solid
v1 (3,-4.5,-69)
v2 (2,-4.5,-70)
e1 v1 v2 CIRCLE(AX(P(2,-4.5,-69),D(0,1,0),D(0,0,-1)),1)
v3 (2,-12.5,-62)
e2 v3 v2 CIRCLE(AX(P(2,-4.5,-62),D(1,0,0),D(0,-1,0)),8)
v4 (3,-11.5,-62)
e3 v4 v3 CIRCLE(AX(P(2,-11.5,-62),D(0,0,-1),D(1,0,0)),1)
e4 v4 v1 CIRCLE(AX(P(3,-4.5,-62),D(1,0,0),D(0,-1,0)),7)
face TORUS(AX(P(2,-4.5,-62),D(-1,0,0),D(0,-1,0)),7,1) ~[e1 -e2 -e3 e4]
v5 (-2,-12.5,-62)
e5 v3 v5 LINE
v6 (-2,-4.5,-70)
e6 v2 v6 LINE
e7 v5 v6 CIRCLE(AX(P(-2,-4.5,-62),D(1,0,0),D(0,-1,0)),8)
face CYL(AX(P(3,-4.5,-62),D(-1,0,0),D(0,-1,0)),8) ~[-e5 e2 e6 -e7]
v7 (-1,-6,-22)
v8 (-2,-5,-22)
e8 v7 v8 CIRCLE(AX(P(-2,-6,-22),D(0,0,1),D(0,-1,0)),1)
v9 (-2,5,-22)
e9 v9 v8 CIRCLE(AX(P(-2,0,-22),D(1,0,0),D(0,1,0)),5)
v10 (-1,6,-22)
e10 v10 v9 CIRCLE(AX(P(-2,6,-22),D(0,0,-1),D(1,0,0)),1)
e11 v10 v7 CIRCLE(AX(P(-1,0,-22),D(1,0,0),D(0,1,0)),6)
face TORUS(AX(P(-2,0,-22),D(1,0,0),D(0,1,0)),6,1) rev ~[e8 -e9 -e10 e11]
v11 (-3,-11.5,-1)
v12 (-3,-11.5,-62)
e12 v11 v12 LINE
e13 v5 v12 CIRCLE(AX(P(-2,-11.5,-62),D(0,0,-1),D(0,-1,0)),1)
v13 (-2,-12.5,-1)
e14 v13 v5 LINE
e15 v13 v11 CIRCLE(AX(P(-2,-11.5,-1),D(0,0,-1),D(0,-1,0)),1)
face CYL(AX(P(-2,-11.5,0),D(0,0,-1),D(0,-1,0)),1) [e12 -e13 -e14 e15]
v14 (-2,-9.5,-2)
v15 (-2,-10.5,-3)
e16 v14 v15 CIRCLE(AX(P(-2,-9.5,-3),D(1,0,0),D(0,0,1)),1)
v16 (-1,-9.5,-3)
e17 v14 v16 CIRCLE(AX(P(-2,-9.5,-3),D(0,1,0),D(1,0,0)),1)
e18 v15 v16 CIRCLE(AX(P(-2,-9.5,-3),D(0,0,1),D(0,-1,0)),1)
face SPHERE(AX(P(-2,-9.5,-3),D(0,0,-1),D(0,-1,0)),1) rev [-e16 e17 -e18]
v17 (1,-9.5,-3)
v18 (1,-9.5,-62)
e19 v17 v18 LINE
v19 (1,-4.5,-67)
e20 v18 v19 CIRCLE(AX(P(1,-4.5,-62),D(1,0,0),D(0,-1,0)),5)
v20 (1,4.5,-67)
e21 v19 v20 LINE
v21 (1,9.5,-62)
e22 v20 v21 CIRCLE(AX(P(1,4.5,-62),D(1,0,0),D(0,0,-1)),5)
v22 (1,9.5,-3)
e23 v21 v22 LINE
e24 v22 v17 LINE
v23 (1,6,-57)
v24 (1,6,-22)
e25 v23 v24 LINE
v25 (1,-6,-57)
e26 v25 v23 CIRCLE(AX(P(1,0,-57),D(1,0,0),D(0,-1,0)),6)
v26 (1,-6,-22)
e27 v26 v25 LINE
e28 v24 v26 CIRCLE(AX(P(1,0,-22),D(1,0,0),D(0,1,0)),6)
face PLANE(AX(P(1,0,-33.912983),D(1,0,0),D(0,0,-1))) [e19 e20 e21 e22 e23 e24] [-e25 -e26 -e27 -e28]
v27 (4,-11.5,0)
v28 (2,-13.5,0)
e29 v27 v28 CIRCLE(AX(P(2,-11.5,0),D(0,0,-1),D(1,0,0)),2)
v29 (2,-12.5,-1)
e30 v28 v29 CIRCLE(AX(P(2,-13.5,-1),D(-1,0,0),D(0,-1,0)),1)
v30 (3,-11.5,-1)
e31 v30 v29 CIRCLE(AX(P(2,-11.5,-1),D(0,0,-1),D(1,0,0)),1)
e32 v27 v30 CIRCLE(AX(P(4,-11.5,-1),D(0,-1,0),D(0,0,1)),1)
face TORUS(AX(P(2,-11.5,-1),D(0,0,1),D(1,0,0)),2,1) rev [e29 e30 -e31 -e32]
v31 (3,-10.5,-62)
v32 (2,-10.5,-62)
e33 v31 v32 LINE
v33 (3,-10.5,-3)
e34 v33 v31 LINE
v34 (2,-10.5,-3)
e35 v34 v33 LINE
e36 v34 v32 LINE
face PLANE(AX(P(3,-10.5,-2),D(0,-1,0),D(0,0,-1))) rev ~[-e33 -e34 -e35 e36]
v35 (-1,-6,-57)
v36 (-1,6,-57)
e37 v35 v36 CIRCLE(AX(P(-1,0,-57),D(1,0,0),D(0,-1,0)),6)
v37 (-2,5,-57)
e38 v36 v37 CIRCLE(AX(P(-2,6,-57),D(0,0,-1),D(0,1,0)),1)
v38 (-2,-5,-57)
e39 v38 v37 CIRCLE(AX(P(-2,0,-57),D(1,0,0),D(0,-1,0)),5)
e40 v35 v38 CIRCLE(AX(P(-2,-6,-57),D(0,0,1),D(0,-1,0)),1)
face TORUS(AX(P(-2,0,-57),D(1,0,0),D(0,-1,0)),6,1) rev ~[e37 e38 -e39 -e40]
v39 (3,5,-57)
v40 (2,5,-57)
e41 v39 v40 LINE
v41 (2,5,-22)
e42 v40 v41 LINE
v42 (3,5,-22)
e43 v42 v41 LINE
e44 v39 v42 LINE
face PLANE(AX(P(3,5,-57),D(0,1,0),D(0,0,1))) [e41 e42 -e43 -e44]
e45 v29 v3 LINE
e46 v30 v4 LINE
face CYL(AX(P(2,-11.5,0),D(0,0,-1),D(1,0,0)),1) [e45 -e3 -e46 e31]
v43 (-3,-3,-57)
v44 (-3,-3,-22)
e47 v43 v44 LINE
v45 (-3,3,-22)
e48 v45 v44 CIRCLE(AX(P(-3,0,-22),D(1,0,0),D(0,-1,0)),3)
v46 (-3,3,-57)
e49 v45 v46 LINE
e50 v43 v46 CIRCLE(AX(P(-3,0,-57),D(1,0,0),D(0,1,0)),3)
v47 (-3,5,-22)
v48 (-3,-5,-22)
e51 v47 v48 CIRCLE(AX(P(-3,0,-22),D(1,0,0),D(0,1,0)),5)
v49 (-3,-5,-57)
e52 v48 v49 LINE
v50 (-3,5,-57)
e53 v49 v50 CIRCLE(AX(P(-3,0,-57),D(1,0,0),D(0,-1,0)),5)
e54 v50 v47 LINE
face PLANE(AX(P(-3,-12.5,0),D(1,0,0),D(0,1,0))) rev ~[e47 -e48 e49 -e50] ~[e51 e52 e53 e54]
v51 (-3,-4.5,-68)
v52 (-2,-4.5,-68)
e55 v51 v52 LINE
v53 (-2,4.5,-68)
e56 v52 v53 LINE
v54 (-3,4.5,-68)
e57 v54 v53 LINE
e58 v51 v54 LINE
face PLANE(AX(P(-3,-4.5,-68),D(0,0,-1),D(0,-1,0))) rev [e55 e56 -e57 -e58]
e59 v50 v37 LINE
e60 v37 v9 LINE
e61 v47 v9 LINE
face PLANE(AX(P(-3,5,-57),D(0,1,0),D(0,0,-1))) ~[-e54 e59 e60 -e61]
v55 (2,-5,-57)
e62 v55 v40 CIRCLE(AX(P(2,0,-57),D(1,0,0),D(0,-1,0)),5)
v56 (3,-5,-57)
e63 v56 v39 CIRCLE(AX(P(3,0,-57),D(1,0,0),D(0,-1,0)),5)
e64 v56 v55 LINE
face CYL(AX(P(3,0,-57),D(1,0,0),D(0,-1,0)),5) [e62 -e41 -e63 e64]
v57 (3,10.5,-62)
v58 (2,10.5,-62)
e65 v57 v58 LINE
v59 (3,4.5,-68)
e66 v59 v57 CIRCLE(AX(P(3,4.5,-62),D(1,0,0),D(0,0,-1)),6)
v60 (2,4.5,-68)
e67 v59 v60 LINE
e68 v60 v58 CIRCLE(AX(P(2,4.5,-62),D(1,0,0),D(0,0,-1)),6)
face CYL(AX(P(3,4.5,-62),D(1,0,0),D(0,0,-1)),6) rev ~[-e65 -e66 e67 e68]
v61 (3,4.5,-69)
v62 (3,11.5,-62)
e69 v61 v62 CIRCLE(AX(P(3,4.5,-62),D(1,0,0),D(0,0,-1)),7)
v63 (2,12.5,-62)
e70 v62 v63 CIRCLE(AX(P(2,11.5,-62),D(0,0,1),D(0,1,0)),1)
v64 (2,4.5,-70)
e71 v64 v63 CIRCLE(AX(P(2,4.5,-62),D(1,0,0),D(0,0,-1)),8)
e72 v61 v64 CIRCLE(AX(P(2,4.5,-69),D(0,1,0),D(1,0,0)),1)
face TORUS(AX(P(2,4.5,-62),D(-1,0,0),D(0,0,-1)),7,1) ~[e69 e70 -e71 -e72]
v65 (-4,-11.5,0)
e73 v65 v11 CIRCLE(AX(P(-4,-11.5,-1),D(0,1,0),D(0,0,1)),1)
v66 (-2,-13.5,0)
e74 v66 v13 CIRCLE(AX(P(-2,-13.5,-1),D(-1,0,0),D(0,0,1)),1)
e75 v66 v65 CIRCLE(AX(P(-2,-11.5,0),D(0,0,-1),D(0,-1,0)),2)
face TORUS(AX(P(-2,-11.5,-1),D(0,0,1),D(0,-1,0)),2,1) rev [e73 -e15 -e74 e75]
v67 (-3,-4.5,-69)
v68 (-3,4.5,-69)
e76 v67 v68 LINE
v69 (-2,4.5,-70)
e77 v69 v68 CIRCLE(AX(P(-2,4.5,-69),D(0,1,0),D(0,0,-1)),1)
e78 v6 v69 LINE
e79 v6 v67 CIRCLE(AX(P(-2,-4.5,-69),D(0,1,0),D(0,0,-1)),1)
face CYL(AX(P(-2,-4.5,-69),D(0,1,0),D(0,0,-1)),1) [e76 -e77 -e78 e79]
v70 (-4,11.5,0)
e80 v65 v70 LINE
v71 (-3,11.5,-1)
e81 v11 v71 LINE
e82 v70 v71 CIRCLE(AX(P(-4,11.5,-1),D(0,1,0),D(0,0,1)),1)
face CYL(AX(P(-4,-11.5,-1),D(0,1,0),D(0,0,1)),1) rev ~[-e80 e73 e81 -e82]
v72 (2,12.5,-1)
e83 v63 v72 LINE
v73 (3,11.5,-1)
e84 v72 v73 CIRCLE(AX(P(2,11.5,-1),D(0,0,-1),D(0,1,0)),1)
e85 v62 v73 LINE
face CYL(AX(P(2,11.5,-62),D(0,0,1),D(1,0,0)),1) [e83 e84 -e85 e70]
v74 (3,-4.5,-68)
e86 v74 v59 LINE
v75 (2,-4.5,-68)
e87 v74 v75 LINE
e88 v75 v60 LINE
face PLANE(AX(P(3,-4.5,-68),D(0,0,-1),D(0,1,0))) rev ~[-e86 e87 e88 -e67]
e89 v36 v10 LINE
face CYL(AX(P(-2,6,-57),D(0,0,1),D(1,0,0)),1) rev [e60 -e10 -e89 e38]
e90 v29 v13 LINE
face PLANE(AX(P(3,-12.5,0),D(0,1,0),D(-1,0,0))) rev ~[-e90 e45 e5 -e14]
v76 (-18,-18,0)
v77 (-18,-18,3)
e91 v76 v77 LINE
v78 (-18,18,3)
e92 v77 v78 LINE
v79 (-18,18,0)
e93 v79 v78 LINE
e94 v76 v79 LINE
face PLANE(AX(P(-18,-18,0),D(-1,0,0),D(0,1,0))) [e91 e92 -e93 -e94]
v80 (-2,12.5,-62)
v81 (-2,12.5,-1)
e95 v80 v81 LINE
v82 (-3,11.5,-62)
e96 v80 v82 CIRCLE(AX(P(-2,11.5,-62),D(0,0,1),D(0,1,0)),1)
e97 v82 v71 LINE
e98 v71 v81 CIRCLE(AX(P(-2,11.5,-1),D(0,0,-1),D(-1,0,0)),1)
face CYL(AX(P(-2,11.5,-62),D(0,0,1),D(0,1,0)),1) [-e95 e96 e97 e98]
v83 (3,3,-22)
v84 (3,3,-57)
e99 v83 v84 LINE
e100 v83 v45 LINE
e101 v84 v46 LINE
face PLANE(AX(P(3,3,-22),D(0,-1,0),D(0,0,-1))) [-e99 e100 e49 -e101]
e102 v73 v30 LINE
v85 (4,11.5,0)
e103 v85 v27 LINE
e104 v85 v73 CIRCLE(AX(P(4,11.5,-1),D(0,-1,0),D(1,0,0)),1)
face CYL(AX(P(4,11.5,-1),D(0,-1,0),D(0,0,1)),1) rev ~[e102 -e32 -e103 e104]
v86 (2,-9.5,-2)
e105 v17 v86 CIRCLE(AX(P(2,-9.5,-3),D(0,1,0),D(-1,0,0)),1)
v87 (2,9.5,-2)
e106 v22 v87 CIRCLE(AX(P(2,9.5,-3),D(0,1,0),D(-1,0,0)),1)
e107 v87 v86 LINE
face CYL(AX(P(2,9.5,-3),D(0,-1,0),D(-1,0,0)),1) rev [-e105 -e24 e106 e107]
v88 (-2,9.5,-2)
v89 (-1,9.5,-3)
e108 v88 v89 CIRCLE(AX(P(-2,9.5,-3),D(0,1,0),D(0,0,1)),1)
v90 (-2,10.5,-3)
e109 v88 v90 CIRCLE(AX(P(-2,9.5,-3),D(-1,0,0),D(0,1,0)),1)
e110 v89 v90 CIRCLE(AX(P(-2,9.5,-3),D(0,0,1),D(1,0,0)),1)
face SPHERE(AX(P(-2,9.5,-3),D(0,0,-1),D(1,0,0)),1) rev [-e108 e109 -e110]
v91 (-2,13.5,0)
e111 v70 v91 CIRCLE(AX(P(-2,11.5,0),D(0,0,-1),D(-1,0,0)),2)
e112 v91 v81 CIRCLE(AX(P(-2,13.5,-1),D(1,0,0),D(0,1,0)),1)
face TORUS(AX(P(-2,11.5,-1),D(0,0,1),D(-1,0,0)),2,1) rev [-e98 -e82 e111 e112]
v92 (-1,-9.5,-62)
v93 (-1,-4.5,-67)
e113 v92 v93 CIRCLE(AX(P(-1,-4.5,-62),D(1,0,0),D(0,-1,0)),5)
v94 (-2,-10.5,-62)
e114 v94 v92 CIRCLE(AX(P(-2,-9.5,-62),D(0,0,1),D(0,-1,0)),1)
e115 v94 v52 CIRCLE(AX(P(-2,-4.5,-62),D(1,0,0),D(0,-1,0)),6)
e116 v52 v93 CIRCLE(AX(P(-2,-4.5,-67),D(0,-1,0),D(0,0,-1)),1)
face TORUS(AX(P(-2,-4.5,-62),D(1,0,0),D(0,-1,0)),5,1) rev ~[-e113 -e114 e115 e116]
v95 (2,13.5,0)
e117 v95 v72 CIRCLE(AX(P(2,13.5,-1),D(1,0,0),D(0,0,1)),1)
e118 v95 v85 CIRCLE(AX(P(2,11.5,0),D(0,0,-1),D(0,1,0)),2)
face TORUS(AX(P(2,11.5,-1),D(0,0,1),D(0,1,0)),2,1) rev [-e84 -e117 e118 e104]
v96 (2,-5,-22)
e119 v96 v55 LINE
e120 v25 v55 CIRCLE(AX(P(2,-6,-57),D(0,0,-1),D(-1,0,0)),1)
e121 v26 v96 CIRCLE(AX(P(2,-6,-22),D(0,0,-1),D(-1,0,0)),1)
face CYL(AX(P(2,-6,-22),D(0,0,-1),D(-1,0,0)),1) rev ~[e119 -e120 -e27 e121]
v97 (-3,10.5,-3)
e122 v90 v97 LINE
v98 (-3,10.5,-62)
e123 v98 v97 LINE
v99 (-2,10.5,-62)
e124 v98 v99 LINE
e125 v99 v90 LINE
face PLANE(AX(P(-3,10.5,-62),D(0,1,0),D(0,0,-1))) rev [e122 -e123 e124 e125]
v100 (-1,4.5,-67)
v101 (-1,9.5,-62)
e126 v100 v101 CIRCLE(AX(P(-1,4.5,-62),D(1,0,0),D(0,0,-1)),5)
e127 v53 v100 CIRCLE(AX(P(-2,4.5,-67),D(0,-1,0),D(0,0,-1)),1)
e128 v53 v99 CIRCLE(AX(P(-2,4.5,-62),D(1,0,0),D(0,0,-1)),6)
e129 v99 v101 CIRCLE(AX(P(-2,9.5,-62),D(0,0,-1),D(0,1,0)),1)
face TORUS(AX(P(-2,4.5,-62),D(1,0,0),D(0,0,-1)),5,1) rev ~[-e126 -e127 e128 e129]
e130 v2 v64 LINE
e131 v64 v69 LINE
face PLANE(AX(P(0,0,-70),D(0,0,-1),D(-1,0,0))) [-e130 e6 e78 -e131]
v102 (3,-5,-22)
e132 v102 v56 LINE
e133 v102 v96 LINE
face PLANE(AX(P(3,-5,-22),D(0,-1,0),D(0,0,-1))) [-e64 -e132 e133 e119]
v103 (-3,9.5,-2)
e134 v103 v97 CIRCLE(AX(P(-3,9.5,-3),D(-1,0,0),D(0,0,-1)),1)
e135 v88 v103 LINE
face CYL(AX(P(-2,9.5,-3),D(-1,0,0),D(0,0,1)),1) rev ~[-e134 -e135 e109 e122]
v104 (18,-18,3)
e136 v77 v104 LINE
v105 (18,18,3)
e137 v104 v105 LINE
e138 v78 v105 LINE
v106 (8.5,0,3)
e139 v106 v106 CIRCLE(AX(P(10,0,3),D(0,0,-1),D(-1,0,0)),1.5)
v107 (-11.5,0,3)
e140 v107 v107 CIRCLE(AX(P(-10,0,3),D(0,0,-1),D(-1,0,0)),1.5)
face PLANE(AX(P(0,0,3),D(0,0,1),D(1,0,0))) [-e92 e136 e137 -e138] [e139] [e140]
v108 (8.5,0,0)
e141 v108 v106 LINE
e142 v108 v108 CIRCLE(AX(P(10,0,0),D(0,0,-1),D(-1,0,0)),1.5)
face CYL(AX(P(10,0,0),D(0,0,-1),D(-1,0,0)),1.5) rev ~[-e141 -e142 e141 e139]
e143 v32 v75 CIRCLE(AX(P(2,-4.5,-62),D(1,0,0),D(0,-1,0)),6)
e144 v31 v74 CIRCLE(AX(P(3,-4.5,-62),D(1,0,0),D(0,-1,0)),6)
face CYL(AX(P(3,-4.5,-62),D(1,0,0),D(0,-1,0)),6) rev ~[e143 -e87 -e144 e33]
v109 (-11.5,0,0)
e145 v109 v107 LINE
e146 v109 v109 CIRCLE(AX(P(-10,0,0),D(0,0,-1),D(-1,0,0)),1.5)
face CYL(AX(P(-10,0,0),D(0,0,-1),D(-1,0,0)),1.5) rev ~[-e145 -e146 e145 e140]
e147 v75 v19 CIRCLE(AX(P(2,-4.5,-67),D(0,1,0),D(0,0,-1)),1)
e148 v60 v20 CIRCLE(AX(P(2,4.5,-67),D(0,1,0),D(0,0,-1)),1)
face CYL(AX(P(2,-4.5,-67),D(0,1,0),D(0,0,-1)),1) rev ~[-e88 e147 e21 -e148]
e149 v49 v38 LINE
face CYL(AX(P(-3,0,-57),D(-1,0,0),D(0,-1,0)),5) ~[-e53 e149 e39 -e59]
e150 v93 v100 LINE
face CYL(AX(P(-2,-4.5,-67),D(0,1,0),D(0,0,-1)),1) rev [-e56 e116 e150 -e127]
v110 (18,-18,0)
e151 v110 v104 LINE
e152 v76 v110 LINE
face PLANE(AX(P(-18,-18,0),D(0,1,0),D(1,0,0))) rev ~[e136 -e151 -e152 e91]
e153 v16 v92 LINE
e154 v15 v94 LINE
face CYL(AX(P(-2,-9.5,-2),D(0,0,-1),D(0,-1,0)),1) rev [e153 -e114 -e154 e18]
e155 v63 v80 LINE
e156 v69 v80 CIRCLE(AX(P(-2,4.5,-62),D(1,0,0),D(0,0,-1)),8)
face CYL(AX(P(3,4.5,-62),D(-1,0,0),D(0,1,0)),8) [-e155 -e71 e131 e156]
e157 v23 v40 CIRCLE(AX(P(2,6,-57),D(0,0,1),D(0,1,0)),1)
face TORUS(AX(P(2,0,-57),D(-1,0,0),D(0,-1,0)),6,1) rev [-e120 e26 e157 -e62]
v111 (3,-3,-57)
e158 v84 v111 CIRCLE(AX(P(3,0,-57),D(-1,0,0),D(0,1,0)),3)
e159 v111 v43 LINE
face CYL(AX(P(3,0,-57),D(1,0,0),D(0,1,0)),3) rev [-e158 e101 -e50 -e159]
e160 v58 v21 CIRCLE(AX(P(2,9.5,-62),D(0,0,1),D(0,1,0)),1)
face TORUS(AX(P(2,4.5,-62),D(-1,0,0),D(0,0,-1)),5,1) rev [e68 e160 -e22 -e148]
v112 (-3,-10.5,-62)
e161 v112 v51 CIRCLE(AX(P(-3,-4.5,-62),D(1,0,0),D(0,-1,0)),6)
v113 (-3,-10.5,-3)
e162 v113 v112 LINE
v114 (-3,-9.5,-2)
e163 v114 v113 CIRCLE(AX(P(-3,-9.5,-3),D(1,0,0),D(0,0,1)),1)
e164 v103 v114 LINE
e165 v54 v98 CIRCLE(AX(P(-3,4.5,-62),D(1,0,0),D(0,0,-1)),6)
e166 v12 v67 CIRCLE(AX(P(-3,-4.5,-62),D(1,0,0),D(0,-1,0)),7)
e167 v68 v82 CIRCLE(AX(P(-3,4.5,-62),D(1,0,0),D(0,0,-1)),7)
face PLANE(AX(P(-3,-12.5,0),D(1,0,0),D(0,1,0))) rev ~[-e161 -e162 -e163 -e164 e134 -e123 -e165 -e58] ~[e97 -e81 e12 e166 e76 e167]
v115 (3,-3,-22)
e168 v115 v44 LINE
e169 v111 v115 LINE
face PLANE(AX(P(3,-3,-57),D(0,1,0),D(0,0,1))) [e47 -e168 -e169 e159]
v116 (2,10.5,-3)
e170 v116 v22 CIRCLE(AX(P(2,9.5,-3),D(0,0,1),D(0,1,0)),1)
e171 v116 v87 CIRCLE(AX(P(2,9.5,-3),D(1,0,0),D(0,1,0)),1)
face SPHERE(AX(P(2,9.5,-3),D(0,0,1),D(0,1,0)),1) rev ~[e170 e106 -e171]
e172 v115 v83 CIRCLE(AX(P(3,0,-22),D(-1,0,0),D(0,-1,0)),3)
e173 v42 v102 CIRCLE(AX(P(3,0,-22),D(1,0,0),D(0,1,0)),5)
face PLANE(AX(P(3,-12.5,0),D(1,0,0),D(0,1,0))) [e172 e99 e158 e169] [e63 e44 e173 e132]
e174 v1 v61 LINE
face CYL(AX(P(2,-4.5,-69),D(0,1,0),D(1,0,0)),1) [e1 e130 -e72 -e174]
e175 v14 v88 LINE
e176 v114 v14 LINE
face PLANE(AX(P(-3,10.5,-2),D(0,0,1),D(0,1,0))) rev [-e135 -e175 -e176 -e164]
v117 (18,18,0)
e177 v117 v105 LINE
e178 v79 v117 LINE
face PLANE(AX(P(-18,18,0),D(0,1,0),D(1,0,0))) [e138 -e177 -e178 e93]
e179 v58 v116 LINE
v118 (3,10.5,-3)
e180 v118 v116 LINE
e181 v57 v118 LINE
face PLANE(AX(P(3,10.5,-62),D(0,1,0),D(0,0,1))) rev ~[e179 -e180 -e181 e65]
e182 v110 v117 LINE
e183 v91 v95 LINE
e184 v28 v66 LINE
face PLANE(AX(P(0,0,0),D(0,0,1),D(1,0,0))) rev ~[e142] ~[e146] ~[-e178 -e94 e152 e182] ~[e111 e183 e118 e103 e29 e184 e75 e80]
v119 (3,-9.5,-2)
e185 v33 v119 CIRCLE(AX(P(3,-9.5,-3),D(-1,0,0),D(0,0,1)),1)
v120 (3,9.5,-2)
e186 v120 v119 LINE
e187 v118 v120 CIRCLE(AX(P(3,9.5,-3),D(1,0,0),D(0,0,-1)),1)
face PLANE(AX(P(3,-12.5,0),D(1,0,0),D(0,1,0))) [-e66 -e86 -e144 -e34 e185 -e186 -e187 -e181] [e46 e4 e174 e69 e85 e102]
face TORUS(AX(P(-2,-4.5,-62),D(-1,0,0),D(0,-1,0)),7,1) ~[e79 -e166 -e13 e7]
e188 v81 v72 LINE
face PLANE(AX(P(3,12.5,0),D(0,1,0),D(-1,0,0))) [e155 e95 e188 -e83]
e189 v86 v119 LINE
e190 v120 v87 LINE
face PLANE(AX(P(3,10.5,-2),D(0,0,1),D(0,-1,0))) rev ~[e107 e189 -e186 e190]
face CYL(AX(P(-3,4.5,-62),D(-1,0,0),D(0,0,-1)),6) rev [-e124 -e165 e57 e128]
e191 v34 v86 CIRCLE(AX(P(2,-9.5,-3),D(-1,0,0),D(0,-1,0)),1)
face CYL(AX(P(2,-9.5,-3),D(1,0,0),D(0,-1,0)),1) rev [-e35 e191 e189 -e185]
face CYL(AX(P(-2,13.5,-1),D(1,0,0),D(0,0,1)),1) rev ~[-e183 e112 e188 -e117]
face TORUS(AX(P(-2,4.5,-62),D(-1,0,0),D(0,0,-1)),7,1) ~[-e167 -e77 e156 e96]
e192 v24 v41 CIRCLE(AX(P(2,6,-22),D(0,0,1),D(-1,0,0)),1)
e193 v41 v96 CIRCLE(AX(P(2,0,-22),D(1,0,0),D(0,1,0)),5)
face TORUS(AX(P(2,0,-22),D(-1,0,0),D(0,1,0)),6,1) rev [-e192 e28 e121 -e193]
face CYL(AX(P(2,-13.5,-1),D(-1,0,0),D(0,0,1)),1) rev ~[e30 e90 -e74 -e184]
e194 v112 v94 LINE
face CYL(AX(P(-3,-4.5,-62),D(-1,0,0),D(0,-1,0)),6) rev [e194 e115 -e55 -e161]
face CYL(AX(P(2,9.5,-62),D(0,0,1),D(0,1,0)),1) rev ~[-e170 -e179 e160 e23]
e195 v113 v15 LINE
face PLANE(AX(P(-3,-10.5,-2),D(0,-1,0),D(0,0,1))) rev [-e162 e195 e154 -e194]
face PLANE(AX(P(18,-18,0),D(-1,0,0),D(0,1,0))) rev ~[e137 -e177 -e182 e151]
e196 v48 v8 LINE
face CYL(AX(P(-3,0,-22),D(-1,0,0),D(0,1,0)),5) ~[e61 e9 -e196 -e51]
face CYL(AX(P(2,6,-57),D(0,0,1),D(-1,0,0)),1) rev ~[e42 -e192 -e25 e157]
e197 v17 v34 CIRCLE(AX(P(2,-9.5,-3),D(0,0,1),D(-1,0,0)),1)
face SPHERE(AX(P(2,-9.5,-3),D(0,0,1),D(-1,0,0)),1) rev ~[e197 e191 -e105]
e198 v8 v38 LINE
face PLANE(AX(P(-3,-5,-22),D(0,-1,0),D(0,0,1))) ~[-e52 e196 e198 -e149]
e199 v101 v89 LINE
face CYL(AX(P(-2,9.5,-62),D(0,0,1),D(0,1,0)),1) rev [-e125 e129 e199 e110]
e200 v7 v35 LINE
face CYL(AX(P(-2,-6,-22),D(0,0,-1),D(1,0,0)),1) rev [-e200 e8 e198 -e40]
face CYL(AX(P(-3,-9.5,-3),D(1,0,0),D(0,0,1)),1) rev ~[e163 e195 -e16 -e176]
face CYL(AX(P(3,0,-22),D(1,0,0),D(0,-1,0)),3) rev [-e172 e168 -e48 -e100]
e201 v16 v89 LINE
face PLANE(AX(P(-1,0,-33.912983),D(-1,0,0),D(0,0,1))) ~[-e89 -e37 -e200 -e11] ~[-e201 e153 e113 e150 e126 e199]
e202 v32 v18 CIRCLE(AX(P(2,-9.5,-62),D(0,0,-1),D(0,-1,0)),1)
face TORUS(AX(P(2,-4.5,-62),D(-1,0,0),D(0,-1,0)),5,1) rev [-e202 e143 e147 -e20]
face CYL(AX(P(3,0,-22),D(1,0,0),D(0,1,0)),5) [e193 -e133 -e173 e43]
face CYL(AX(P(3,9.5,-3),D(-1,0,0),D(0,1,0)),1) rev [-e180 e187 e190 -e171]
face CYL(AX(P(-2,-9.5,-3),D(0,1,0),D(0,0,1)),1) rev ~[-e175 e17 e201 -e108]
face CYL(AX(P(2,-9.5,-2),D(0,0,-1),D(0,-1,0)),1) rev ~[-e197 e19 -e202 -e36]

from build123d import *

# Parameters (mm, degrees)
SKETCH2_W           = 36
SKETCH2_H           = 36
BOSS_EXTRUDE1_DEPTH = 3
SKETCH3_R           = 1.5
CUT_EXTRUDE1_DEPTH  = 3
SKETCH4_W           = 6
SKETCH4_H           = 25
BOSS_EXTRUDE2_DEPTH = 70
CUT_EXTRUDE2_DEPTH  = 70
FILLET1_R           = 8
CUT_EXTRUDE3_DEPTH  = 2
FILLET2_R           = 1
FILLET3_R           = 1
FILLET4_R           = 1
FILLET5_R           = 1
FILLET6_R           = 1


with BuildPart() as part:
    # Sketch2 → Boss-Extrude1 (new body)
    with BuildSketch(Plane.XY):
        Rectangle(SKETCH2_W, SKETCH2_H)
    extrude(amount=BOSS_EXTRUDE1_DEPTH)

    # Sketch3 → Cut-Extrude1 (cut)
    with BuildSketch(Plane(origin=(0, 0, 0), x_dir=(-1, 0, 0), z_dir=(0, 0, -1))):
        with Locations((10, 0)):
            Circle(SKETCH3_R)
        with Locations((-10, 0)):
            Circle(SKETCH3_R)
    extrude(amount=-CUT_EXTRUDE1_DEPTH, mode=Mode.SUBTRACT)

    # Sketch4 → Boss-Extrude2 (add)
    with BuildSketch(Plane(origin=(0, 0, 0), x_dir=(-1, 0, 0), z_dir=(0, 0, -1))):
        Rectangle(SKETCH4_W, SKETCH4_H)
    extrude(amount=BOSS_EXTRUDE2_DEPTH)

    # Sketch5 → Cut-Extrude2 (cut)
    with BuildSketch(Plane(origin=(3, 0, 0), x_dir=(0, 0, -1), z_dir=(1, 0, 0))):
        with BuildLine():
            Line((57, -3), (22, -3))
            ThreePointArc((22, -3), (19, 0), (22, 3))
            Line((22, 3), (57, 3))
            ThreePointArc((57, 3), (60, 0), (57, -3))
        make_face()
    extrude(amount=-CUT_EXTRUDE2_DEPTH, mode=Mode.SUBTRACT)

    # Fillet1
    fillet1_edges = [part.edges().sort_by_distance(p)[0] for p in [
        (0, 12.5, -70),
        (0, -12.5, -70),
    ]]
    fillet(fillet1_edges, radius=FILLET1_R)

    # Sketch7 → Cut-Extrude3 (cut)
    with BuildSketch(Plane(origin=(3, 0, 0), x_dir=(0, 0, -1), z_dir=(1, 0, 0))):
        with BuildLine():
            Line((68, -4.5), (68, 4.5))
            ThreePointArc((68, 4.5), (66.242640687, 8.742640687), (62, 10.5))
            Line((62, 10.5), (2, 10.5))
            Line((2, 10.5), (2, -10.5))
            Line((2, -10.5), (62, -10.5))
            ThreePointArc((62, -10.5), (66.242640687, -8.742640687), (68, -4.5))
        make_face()
        with BuildLine():
            Line((57, 5), (22, 5))
            ThreePointArc((22, 5), (17, 0), (22, -5))
            Line((22, -5), (57, -5))
            ThreePointArc((57, -5), (62, 0), (57, 5))
        make_face(mode=Mode.SUBTRACT)
    cut_extrude3 = extrude(amount=-CUT_EXTRUDE3_DEPTH, mode=Mode.SUBTRACT)

    # Mirror1: Cut-Extrude3 across plane
    add(cut_extrude3.mirror(Plane(origin=(0, 0, 0), x_dir=(0, 0, 1), z_dir=(1, 0, 0))), mode=Mode.SUBTRACT)

    # Fillet2
    fillet2_edges = [part.edges().sort_by_distance(p)[0] for p in [
        (-3, 0, -70),
        (3, 0, -70),
        (3, -12.5, -31),
        (3, 12.5, -31),
        (3, -10.156854249, -67.656854249),
        (3, 10.156854249, -67.656854249),
        (-3, 12.5, -31),
        (-3, -12.5, -31),
        (-3, -10.156854249, -67.656854249),
        (-3, 10.156854249, -67.656854249),
    ]]
    fillet(fillet2_edges, radius=FILLET2_R)

    # Fillet3
    fillet3_edges = [part.edges().sort_by_distance(p)[0] for p in [
        (-1, -8.742640687, -66.242640687),
        (-1, 0, -68),
        (-1, 8.742640687, -66.242640687),
        (-1, 10.5, -32),
        (-1, -10.5, -32),
        (1, -8.742640687, -66.242640687),
        (1, -10.5, -32),
        (1, 10.5, -32),
        (1, 8.742640687, -66.242640687),
        (1, 0, -68),
    ]]
    fillet(fillet3_edges, radius=FILLET3_R)

    # Fillet4
    fillet4_edges = [part.edges().sort_by_distance(p)[0] for p in [
        (-1, 0, -62),
        (-1, 5, -39.5),
        (-1, 0, -17),
        (-1, -5, -39.5),
        (1, -5, -39.5),
        (1, 0, -62),
        (1, 5, -39.5),
        (1, 0, -17),
    ]]
    fillet(fillet4_edges, radius=FILLET4_R)

    # Fillet5
    fillet5_edges = [part.edges().sort_by_distance(p)[0] for p in [
        (-2.5, -10.5, -2),
        (-1, 0, -2),
        (-2.5, 10.5, -2),
        (-1.292893219, 10.207106781, -2),
        (-1.292893219, -10.207106781, -2),
        (1, 0, -2),
        (2.5, -10.5, -2),
        (2.5, 10.5, -2),
        (1.292893219, 10.207106781, -2),
        (1.292893219, -10.207106781, -2),
    ]]
    fillet(fillet5_edges, radius=FILLET5_R)

    # Fillet6
    fillet6_edges = [part.edges().sort_by_distance(p)[0] for p in [
        (-3, 0, 0),
        (0, -12.5, 0),
        (0, 12.5, 0),
        (3, 0, 0),
        (-2.707106781, -12.207106781, 0),
        (-2.707106781, 12.207106781, 0),
        (2.707106781, 12.207106781, 0),
        (2.707106781, -12.207106781, 0),
    ]]
    fillet(fillet6_edges, radius=FILLET6_R)


solid = part.part
